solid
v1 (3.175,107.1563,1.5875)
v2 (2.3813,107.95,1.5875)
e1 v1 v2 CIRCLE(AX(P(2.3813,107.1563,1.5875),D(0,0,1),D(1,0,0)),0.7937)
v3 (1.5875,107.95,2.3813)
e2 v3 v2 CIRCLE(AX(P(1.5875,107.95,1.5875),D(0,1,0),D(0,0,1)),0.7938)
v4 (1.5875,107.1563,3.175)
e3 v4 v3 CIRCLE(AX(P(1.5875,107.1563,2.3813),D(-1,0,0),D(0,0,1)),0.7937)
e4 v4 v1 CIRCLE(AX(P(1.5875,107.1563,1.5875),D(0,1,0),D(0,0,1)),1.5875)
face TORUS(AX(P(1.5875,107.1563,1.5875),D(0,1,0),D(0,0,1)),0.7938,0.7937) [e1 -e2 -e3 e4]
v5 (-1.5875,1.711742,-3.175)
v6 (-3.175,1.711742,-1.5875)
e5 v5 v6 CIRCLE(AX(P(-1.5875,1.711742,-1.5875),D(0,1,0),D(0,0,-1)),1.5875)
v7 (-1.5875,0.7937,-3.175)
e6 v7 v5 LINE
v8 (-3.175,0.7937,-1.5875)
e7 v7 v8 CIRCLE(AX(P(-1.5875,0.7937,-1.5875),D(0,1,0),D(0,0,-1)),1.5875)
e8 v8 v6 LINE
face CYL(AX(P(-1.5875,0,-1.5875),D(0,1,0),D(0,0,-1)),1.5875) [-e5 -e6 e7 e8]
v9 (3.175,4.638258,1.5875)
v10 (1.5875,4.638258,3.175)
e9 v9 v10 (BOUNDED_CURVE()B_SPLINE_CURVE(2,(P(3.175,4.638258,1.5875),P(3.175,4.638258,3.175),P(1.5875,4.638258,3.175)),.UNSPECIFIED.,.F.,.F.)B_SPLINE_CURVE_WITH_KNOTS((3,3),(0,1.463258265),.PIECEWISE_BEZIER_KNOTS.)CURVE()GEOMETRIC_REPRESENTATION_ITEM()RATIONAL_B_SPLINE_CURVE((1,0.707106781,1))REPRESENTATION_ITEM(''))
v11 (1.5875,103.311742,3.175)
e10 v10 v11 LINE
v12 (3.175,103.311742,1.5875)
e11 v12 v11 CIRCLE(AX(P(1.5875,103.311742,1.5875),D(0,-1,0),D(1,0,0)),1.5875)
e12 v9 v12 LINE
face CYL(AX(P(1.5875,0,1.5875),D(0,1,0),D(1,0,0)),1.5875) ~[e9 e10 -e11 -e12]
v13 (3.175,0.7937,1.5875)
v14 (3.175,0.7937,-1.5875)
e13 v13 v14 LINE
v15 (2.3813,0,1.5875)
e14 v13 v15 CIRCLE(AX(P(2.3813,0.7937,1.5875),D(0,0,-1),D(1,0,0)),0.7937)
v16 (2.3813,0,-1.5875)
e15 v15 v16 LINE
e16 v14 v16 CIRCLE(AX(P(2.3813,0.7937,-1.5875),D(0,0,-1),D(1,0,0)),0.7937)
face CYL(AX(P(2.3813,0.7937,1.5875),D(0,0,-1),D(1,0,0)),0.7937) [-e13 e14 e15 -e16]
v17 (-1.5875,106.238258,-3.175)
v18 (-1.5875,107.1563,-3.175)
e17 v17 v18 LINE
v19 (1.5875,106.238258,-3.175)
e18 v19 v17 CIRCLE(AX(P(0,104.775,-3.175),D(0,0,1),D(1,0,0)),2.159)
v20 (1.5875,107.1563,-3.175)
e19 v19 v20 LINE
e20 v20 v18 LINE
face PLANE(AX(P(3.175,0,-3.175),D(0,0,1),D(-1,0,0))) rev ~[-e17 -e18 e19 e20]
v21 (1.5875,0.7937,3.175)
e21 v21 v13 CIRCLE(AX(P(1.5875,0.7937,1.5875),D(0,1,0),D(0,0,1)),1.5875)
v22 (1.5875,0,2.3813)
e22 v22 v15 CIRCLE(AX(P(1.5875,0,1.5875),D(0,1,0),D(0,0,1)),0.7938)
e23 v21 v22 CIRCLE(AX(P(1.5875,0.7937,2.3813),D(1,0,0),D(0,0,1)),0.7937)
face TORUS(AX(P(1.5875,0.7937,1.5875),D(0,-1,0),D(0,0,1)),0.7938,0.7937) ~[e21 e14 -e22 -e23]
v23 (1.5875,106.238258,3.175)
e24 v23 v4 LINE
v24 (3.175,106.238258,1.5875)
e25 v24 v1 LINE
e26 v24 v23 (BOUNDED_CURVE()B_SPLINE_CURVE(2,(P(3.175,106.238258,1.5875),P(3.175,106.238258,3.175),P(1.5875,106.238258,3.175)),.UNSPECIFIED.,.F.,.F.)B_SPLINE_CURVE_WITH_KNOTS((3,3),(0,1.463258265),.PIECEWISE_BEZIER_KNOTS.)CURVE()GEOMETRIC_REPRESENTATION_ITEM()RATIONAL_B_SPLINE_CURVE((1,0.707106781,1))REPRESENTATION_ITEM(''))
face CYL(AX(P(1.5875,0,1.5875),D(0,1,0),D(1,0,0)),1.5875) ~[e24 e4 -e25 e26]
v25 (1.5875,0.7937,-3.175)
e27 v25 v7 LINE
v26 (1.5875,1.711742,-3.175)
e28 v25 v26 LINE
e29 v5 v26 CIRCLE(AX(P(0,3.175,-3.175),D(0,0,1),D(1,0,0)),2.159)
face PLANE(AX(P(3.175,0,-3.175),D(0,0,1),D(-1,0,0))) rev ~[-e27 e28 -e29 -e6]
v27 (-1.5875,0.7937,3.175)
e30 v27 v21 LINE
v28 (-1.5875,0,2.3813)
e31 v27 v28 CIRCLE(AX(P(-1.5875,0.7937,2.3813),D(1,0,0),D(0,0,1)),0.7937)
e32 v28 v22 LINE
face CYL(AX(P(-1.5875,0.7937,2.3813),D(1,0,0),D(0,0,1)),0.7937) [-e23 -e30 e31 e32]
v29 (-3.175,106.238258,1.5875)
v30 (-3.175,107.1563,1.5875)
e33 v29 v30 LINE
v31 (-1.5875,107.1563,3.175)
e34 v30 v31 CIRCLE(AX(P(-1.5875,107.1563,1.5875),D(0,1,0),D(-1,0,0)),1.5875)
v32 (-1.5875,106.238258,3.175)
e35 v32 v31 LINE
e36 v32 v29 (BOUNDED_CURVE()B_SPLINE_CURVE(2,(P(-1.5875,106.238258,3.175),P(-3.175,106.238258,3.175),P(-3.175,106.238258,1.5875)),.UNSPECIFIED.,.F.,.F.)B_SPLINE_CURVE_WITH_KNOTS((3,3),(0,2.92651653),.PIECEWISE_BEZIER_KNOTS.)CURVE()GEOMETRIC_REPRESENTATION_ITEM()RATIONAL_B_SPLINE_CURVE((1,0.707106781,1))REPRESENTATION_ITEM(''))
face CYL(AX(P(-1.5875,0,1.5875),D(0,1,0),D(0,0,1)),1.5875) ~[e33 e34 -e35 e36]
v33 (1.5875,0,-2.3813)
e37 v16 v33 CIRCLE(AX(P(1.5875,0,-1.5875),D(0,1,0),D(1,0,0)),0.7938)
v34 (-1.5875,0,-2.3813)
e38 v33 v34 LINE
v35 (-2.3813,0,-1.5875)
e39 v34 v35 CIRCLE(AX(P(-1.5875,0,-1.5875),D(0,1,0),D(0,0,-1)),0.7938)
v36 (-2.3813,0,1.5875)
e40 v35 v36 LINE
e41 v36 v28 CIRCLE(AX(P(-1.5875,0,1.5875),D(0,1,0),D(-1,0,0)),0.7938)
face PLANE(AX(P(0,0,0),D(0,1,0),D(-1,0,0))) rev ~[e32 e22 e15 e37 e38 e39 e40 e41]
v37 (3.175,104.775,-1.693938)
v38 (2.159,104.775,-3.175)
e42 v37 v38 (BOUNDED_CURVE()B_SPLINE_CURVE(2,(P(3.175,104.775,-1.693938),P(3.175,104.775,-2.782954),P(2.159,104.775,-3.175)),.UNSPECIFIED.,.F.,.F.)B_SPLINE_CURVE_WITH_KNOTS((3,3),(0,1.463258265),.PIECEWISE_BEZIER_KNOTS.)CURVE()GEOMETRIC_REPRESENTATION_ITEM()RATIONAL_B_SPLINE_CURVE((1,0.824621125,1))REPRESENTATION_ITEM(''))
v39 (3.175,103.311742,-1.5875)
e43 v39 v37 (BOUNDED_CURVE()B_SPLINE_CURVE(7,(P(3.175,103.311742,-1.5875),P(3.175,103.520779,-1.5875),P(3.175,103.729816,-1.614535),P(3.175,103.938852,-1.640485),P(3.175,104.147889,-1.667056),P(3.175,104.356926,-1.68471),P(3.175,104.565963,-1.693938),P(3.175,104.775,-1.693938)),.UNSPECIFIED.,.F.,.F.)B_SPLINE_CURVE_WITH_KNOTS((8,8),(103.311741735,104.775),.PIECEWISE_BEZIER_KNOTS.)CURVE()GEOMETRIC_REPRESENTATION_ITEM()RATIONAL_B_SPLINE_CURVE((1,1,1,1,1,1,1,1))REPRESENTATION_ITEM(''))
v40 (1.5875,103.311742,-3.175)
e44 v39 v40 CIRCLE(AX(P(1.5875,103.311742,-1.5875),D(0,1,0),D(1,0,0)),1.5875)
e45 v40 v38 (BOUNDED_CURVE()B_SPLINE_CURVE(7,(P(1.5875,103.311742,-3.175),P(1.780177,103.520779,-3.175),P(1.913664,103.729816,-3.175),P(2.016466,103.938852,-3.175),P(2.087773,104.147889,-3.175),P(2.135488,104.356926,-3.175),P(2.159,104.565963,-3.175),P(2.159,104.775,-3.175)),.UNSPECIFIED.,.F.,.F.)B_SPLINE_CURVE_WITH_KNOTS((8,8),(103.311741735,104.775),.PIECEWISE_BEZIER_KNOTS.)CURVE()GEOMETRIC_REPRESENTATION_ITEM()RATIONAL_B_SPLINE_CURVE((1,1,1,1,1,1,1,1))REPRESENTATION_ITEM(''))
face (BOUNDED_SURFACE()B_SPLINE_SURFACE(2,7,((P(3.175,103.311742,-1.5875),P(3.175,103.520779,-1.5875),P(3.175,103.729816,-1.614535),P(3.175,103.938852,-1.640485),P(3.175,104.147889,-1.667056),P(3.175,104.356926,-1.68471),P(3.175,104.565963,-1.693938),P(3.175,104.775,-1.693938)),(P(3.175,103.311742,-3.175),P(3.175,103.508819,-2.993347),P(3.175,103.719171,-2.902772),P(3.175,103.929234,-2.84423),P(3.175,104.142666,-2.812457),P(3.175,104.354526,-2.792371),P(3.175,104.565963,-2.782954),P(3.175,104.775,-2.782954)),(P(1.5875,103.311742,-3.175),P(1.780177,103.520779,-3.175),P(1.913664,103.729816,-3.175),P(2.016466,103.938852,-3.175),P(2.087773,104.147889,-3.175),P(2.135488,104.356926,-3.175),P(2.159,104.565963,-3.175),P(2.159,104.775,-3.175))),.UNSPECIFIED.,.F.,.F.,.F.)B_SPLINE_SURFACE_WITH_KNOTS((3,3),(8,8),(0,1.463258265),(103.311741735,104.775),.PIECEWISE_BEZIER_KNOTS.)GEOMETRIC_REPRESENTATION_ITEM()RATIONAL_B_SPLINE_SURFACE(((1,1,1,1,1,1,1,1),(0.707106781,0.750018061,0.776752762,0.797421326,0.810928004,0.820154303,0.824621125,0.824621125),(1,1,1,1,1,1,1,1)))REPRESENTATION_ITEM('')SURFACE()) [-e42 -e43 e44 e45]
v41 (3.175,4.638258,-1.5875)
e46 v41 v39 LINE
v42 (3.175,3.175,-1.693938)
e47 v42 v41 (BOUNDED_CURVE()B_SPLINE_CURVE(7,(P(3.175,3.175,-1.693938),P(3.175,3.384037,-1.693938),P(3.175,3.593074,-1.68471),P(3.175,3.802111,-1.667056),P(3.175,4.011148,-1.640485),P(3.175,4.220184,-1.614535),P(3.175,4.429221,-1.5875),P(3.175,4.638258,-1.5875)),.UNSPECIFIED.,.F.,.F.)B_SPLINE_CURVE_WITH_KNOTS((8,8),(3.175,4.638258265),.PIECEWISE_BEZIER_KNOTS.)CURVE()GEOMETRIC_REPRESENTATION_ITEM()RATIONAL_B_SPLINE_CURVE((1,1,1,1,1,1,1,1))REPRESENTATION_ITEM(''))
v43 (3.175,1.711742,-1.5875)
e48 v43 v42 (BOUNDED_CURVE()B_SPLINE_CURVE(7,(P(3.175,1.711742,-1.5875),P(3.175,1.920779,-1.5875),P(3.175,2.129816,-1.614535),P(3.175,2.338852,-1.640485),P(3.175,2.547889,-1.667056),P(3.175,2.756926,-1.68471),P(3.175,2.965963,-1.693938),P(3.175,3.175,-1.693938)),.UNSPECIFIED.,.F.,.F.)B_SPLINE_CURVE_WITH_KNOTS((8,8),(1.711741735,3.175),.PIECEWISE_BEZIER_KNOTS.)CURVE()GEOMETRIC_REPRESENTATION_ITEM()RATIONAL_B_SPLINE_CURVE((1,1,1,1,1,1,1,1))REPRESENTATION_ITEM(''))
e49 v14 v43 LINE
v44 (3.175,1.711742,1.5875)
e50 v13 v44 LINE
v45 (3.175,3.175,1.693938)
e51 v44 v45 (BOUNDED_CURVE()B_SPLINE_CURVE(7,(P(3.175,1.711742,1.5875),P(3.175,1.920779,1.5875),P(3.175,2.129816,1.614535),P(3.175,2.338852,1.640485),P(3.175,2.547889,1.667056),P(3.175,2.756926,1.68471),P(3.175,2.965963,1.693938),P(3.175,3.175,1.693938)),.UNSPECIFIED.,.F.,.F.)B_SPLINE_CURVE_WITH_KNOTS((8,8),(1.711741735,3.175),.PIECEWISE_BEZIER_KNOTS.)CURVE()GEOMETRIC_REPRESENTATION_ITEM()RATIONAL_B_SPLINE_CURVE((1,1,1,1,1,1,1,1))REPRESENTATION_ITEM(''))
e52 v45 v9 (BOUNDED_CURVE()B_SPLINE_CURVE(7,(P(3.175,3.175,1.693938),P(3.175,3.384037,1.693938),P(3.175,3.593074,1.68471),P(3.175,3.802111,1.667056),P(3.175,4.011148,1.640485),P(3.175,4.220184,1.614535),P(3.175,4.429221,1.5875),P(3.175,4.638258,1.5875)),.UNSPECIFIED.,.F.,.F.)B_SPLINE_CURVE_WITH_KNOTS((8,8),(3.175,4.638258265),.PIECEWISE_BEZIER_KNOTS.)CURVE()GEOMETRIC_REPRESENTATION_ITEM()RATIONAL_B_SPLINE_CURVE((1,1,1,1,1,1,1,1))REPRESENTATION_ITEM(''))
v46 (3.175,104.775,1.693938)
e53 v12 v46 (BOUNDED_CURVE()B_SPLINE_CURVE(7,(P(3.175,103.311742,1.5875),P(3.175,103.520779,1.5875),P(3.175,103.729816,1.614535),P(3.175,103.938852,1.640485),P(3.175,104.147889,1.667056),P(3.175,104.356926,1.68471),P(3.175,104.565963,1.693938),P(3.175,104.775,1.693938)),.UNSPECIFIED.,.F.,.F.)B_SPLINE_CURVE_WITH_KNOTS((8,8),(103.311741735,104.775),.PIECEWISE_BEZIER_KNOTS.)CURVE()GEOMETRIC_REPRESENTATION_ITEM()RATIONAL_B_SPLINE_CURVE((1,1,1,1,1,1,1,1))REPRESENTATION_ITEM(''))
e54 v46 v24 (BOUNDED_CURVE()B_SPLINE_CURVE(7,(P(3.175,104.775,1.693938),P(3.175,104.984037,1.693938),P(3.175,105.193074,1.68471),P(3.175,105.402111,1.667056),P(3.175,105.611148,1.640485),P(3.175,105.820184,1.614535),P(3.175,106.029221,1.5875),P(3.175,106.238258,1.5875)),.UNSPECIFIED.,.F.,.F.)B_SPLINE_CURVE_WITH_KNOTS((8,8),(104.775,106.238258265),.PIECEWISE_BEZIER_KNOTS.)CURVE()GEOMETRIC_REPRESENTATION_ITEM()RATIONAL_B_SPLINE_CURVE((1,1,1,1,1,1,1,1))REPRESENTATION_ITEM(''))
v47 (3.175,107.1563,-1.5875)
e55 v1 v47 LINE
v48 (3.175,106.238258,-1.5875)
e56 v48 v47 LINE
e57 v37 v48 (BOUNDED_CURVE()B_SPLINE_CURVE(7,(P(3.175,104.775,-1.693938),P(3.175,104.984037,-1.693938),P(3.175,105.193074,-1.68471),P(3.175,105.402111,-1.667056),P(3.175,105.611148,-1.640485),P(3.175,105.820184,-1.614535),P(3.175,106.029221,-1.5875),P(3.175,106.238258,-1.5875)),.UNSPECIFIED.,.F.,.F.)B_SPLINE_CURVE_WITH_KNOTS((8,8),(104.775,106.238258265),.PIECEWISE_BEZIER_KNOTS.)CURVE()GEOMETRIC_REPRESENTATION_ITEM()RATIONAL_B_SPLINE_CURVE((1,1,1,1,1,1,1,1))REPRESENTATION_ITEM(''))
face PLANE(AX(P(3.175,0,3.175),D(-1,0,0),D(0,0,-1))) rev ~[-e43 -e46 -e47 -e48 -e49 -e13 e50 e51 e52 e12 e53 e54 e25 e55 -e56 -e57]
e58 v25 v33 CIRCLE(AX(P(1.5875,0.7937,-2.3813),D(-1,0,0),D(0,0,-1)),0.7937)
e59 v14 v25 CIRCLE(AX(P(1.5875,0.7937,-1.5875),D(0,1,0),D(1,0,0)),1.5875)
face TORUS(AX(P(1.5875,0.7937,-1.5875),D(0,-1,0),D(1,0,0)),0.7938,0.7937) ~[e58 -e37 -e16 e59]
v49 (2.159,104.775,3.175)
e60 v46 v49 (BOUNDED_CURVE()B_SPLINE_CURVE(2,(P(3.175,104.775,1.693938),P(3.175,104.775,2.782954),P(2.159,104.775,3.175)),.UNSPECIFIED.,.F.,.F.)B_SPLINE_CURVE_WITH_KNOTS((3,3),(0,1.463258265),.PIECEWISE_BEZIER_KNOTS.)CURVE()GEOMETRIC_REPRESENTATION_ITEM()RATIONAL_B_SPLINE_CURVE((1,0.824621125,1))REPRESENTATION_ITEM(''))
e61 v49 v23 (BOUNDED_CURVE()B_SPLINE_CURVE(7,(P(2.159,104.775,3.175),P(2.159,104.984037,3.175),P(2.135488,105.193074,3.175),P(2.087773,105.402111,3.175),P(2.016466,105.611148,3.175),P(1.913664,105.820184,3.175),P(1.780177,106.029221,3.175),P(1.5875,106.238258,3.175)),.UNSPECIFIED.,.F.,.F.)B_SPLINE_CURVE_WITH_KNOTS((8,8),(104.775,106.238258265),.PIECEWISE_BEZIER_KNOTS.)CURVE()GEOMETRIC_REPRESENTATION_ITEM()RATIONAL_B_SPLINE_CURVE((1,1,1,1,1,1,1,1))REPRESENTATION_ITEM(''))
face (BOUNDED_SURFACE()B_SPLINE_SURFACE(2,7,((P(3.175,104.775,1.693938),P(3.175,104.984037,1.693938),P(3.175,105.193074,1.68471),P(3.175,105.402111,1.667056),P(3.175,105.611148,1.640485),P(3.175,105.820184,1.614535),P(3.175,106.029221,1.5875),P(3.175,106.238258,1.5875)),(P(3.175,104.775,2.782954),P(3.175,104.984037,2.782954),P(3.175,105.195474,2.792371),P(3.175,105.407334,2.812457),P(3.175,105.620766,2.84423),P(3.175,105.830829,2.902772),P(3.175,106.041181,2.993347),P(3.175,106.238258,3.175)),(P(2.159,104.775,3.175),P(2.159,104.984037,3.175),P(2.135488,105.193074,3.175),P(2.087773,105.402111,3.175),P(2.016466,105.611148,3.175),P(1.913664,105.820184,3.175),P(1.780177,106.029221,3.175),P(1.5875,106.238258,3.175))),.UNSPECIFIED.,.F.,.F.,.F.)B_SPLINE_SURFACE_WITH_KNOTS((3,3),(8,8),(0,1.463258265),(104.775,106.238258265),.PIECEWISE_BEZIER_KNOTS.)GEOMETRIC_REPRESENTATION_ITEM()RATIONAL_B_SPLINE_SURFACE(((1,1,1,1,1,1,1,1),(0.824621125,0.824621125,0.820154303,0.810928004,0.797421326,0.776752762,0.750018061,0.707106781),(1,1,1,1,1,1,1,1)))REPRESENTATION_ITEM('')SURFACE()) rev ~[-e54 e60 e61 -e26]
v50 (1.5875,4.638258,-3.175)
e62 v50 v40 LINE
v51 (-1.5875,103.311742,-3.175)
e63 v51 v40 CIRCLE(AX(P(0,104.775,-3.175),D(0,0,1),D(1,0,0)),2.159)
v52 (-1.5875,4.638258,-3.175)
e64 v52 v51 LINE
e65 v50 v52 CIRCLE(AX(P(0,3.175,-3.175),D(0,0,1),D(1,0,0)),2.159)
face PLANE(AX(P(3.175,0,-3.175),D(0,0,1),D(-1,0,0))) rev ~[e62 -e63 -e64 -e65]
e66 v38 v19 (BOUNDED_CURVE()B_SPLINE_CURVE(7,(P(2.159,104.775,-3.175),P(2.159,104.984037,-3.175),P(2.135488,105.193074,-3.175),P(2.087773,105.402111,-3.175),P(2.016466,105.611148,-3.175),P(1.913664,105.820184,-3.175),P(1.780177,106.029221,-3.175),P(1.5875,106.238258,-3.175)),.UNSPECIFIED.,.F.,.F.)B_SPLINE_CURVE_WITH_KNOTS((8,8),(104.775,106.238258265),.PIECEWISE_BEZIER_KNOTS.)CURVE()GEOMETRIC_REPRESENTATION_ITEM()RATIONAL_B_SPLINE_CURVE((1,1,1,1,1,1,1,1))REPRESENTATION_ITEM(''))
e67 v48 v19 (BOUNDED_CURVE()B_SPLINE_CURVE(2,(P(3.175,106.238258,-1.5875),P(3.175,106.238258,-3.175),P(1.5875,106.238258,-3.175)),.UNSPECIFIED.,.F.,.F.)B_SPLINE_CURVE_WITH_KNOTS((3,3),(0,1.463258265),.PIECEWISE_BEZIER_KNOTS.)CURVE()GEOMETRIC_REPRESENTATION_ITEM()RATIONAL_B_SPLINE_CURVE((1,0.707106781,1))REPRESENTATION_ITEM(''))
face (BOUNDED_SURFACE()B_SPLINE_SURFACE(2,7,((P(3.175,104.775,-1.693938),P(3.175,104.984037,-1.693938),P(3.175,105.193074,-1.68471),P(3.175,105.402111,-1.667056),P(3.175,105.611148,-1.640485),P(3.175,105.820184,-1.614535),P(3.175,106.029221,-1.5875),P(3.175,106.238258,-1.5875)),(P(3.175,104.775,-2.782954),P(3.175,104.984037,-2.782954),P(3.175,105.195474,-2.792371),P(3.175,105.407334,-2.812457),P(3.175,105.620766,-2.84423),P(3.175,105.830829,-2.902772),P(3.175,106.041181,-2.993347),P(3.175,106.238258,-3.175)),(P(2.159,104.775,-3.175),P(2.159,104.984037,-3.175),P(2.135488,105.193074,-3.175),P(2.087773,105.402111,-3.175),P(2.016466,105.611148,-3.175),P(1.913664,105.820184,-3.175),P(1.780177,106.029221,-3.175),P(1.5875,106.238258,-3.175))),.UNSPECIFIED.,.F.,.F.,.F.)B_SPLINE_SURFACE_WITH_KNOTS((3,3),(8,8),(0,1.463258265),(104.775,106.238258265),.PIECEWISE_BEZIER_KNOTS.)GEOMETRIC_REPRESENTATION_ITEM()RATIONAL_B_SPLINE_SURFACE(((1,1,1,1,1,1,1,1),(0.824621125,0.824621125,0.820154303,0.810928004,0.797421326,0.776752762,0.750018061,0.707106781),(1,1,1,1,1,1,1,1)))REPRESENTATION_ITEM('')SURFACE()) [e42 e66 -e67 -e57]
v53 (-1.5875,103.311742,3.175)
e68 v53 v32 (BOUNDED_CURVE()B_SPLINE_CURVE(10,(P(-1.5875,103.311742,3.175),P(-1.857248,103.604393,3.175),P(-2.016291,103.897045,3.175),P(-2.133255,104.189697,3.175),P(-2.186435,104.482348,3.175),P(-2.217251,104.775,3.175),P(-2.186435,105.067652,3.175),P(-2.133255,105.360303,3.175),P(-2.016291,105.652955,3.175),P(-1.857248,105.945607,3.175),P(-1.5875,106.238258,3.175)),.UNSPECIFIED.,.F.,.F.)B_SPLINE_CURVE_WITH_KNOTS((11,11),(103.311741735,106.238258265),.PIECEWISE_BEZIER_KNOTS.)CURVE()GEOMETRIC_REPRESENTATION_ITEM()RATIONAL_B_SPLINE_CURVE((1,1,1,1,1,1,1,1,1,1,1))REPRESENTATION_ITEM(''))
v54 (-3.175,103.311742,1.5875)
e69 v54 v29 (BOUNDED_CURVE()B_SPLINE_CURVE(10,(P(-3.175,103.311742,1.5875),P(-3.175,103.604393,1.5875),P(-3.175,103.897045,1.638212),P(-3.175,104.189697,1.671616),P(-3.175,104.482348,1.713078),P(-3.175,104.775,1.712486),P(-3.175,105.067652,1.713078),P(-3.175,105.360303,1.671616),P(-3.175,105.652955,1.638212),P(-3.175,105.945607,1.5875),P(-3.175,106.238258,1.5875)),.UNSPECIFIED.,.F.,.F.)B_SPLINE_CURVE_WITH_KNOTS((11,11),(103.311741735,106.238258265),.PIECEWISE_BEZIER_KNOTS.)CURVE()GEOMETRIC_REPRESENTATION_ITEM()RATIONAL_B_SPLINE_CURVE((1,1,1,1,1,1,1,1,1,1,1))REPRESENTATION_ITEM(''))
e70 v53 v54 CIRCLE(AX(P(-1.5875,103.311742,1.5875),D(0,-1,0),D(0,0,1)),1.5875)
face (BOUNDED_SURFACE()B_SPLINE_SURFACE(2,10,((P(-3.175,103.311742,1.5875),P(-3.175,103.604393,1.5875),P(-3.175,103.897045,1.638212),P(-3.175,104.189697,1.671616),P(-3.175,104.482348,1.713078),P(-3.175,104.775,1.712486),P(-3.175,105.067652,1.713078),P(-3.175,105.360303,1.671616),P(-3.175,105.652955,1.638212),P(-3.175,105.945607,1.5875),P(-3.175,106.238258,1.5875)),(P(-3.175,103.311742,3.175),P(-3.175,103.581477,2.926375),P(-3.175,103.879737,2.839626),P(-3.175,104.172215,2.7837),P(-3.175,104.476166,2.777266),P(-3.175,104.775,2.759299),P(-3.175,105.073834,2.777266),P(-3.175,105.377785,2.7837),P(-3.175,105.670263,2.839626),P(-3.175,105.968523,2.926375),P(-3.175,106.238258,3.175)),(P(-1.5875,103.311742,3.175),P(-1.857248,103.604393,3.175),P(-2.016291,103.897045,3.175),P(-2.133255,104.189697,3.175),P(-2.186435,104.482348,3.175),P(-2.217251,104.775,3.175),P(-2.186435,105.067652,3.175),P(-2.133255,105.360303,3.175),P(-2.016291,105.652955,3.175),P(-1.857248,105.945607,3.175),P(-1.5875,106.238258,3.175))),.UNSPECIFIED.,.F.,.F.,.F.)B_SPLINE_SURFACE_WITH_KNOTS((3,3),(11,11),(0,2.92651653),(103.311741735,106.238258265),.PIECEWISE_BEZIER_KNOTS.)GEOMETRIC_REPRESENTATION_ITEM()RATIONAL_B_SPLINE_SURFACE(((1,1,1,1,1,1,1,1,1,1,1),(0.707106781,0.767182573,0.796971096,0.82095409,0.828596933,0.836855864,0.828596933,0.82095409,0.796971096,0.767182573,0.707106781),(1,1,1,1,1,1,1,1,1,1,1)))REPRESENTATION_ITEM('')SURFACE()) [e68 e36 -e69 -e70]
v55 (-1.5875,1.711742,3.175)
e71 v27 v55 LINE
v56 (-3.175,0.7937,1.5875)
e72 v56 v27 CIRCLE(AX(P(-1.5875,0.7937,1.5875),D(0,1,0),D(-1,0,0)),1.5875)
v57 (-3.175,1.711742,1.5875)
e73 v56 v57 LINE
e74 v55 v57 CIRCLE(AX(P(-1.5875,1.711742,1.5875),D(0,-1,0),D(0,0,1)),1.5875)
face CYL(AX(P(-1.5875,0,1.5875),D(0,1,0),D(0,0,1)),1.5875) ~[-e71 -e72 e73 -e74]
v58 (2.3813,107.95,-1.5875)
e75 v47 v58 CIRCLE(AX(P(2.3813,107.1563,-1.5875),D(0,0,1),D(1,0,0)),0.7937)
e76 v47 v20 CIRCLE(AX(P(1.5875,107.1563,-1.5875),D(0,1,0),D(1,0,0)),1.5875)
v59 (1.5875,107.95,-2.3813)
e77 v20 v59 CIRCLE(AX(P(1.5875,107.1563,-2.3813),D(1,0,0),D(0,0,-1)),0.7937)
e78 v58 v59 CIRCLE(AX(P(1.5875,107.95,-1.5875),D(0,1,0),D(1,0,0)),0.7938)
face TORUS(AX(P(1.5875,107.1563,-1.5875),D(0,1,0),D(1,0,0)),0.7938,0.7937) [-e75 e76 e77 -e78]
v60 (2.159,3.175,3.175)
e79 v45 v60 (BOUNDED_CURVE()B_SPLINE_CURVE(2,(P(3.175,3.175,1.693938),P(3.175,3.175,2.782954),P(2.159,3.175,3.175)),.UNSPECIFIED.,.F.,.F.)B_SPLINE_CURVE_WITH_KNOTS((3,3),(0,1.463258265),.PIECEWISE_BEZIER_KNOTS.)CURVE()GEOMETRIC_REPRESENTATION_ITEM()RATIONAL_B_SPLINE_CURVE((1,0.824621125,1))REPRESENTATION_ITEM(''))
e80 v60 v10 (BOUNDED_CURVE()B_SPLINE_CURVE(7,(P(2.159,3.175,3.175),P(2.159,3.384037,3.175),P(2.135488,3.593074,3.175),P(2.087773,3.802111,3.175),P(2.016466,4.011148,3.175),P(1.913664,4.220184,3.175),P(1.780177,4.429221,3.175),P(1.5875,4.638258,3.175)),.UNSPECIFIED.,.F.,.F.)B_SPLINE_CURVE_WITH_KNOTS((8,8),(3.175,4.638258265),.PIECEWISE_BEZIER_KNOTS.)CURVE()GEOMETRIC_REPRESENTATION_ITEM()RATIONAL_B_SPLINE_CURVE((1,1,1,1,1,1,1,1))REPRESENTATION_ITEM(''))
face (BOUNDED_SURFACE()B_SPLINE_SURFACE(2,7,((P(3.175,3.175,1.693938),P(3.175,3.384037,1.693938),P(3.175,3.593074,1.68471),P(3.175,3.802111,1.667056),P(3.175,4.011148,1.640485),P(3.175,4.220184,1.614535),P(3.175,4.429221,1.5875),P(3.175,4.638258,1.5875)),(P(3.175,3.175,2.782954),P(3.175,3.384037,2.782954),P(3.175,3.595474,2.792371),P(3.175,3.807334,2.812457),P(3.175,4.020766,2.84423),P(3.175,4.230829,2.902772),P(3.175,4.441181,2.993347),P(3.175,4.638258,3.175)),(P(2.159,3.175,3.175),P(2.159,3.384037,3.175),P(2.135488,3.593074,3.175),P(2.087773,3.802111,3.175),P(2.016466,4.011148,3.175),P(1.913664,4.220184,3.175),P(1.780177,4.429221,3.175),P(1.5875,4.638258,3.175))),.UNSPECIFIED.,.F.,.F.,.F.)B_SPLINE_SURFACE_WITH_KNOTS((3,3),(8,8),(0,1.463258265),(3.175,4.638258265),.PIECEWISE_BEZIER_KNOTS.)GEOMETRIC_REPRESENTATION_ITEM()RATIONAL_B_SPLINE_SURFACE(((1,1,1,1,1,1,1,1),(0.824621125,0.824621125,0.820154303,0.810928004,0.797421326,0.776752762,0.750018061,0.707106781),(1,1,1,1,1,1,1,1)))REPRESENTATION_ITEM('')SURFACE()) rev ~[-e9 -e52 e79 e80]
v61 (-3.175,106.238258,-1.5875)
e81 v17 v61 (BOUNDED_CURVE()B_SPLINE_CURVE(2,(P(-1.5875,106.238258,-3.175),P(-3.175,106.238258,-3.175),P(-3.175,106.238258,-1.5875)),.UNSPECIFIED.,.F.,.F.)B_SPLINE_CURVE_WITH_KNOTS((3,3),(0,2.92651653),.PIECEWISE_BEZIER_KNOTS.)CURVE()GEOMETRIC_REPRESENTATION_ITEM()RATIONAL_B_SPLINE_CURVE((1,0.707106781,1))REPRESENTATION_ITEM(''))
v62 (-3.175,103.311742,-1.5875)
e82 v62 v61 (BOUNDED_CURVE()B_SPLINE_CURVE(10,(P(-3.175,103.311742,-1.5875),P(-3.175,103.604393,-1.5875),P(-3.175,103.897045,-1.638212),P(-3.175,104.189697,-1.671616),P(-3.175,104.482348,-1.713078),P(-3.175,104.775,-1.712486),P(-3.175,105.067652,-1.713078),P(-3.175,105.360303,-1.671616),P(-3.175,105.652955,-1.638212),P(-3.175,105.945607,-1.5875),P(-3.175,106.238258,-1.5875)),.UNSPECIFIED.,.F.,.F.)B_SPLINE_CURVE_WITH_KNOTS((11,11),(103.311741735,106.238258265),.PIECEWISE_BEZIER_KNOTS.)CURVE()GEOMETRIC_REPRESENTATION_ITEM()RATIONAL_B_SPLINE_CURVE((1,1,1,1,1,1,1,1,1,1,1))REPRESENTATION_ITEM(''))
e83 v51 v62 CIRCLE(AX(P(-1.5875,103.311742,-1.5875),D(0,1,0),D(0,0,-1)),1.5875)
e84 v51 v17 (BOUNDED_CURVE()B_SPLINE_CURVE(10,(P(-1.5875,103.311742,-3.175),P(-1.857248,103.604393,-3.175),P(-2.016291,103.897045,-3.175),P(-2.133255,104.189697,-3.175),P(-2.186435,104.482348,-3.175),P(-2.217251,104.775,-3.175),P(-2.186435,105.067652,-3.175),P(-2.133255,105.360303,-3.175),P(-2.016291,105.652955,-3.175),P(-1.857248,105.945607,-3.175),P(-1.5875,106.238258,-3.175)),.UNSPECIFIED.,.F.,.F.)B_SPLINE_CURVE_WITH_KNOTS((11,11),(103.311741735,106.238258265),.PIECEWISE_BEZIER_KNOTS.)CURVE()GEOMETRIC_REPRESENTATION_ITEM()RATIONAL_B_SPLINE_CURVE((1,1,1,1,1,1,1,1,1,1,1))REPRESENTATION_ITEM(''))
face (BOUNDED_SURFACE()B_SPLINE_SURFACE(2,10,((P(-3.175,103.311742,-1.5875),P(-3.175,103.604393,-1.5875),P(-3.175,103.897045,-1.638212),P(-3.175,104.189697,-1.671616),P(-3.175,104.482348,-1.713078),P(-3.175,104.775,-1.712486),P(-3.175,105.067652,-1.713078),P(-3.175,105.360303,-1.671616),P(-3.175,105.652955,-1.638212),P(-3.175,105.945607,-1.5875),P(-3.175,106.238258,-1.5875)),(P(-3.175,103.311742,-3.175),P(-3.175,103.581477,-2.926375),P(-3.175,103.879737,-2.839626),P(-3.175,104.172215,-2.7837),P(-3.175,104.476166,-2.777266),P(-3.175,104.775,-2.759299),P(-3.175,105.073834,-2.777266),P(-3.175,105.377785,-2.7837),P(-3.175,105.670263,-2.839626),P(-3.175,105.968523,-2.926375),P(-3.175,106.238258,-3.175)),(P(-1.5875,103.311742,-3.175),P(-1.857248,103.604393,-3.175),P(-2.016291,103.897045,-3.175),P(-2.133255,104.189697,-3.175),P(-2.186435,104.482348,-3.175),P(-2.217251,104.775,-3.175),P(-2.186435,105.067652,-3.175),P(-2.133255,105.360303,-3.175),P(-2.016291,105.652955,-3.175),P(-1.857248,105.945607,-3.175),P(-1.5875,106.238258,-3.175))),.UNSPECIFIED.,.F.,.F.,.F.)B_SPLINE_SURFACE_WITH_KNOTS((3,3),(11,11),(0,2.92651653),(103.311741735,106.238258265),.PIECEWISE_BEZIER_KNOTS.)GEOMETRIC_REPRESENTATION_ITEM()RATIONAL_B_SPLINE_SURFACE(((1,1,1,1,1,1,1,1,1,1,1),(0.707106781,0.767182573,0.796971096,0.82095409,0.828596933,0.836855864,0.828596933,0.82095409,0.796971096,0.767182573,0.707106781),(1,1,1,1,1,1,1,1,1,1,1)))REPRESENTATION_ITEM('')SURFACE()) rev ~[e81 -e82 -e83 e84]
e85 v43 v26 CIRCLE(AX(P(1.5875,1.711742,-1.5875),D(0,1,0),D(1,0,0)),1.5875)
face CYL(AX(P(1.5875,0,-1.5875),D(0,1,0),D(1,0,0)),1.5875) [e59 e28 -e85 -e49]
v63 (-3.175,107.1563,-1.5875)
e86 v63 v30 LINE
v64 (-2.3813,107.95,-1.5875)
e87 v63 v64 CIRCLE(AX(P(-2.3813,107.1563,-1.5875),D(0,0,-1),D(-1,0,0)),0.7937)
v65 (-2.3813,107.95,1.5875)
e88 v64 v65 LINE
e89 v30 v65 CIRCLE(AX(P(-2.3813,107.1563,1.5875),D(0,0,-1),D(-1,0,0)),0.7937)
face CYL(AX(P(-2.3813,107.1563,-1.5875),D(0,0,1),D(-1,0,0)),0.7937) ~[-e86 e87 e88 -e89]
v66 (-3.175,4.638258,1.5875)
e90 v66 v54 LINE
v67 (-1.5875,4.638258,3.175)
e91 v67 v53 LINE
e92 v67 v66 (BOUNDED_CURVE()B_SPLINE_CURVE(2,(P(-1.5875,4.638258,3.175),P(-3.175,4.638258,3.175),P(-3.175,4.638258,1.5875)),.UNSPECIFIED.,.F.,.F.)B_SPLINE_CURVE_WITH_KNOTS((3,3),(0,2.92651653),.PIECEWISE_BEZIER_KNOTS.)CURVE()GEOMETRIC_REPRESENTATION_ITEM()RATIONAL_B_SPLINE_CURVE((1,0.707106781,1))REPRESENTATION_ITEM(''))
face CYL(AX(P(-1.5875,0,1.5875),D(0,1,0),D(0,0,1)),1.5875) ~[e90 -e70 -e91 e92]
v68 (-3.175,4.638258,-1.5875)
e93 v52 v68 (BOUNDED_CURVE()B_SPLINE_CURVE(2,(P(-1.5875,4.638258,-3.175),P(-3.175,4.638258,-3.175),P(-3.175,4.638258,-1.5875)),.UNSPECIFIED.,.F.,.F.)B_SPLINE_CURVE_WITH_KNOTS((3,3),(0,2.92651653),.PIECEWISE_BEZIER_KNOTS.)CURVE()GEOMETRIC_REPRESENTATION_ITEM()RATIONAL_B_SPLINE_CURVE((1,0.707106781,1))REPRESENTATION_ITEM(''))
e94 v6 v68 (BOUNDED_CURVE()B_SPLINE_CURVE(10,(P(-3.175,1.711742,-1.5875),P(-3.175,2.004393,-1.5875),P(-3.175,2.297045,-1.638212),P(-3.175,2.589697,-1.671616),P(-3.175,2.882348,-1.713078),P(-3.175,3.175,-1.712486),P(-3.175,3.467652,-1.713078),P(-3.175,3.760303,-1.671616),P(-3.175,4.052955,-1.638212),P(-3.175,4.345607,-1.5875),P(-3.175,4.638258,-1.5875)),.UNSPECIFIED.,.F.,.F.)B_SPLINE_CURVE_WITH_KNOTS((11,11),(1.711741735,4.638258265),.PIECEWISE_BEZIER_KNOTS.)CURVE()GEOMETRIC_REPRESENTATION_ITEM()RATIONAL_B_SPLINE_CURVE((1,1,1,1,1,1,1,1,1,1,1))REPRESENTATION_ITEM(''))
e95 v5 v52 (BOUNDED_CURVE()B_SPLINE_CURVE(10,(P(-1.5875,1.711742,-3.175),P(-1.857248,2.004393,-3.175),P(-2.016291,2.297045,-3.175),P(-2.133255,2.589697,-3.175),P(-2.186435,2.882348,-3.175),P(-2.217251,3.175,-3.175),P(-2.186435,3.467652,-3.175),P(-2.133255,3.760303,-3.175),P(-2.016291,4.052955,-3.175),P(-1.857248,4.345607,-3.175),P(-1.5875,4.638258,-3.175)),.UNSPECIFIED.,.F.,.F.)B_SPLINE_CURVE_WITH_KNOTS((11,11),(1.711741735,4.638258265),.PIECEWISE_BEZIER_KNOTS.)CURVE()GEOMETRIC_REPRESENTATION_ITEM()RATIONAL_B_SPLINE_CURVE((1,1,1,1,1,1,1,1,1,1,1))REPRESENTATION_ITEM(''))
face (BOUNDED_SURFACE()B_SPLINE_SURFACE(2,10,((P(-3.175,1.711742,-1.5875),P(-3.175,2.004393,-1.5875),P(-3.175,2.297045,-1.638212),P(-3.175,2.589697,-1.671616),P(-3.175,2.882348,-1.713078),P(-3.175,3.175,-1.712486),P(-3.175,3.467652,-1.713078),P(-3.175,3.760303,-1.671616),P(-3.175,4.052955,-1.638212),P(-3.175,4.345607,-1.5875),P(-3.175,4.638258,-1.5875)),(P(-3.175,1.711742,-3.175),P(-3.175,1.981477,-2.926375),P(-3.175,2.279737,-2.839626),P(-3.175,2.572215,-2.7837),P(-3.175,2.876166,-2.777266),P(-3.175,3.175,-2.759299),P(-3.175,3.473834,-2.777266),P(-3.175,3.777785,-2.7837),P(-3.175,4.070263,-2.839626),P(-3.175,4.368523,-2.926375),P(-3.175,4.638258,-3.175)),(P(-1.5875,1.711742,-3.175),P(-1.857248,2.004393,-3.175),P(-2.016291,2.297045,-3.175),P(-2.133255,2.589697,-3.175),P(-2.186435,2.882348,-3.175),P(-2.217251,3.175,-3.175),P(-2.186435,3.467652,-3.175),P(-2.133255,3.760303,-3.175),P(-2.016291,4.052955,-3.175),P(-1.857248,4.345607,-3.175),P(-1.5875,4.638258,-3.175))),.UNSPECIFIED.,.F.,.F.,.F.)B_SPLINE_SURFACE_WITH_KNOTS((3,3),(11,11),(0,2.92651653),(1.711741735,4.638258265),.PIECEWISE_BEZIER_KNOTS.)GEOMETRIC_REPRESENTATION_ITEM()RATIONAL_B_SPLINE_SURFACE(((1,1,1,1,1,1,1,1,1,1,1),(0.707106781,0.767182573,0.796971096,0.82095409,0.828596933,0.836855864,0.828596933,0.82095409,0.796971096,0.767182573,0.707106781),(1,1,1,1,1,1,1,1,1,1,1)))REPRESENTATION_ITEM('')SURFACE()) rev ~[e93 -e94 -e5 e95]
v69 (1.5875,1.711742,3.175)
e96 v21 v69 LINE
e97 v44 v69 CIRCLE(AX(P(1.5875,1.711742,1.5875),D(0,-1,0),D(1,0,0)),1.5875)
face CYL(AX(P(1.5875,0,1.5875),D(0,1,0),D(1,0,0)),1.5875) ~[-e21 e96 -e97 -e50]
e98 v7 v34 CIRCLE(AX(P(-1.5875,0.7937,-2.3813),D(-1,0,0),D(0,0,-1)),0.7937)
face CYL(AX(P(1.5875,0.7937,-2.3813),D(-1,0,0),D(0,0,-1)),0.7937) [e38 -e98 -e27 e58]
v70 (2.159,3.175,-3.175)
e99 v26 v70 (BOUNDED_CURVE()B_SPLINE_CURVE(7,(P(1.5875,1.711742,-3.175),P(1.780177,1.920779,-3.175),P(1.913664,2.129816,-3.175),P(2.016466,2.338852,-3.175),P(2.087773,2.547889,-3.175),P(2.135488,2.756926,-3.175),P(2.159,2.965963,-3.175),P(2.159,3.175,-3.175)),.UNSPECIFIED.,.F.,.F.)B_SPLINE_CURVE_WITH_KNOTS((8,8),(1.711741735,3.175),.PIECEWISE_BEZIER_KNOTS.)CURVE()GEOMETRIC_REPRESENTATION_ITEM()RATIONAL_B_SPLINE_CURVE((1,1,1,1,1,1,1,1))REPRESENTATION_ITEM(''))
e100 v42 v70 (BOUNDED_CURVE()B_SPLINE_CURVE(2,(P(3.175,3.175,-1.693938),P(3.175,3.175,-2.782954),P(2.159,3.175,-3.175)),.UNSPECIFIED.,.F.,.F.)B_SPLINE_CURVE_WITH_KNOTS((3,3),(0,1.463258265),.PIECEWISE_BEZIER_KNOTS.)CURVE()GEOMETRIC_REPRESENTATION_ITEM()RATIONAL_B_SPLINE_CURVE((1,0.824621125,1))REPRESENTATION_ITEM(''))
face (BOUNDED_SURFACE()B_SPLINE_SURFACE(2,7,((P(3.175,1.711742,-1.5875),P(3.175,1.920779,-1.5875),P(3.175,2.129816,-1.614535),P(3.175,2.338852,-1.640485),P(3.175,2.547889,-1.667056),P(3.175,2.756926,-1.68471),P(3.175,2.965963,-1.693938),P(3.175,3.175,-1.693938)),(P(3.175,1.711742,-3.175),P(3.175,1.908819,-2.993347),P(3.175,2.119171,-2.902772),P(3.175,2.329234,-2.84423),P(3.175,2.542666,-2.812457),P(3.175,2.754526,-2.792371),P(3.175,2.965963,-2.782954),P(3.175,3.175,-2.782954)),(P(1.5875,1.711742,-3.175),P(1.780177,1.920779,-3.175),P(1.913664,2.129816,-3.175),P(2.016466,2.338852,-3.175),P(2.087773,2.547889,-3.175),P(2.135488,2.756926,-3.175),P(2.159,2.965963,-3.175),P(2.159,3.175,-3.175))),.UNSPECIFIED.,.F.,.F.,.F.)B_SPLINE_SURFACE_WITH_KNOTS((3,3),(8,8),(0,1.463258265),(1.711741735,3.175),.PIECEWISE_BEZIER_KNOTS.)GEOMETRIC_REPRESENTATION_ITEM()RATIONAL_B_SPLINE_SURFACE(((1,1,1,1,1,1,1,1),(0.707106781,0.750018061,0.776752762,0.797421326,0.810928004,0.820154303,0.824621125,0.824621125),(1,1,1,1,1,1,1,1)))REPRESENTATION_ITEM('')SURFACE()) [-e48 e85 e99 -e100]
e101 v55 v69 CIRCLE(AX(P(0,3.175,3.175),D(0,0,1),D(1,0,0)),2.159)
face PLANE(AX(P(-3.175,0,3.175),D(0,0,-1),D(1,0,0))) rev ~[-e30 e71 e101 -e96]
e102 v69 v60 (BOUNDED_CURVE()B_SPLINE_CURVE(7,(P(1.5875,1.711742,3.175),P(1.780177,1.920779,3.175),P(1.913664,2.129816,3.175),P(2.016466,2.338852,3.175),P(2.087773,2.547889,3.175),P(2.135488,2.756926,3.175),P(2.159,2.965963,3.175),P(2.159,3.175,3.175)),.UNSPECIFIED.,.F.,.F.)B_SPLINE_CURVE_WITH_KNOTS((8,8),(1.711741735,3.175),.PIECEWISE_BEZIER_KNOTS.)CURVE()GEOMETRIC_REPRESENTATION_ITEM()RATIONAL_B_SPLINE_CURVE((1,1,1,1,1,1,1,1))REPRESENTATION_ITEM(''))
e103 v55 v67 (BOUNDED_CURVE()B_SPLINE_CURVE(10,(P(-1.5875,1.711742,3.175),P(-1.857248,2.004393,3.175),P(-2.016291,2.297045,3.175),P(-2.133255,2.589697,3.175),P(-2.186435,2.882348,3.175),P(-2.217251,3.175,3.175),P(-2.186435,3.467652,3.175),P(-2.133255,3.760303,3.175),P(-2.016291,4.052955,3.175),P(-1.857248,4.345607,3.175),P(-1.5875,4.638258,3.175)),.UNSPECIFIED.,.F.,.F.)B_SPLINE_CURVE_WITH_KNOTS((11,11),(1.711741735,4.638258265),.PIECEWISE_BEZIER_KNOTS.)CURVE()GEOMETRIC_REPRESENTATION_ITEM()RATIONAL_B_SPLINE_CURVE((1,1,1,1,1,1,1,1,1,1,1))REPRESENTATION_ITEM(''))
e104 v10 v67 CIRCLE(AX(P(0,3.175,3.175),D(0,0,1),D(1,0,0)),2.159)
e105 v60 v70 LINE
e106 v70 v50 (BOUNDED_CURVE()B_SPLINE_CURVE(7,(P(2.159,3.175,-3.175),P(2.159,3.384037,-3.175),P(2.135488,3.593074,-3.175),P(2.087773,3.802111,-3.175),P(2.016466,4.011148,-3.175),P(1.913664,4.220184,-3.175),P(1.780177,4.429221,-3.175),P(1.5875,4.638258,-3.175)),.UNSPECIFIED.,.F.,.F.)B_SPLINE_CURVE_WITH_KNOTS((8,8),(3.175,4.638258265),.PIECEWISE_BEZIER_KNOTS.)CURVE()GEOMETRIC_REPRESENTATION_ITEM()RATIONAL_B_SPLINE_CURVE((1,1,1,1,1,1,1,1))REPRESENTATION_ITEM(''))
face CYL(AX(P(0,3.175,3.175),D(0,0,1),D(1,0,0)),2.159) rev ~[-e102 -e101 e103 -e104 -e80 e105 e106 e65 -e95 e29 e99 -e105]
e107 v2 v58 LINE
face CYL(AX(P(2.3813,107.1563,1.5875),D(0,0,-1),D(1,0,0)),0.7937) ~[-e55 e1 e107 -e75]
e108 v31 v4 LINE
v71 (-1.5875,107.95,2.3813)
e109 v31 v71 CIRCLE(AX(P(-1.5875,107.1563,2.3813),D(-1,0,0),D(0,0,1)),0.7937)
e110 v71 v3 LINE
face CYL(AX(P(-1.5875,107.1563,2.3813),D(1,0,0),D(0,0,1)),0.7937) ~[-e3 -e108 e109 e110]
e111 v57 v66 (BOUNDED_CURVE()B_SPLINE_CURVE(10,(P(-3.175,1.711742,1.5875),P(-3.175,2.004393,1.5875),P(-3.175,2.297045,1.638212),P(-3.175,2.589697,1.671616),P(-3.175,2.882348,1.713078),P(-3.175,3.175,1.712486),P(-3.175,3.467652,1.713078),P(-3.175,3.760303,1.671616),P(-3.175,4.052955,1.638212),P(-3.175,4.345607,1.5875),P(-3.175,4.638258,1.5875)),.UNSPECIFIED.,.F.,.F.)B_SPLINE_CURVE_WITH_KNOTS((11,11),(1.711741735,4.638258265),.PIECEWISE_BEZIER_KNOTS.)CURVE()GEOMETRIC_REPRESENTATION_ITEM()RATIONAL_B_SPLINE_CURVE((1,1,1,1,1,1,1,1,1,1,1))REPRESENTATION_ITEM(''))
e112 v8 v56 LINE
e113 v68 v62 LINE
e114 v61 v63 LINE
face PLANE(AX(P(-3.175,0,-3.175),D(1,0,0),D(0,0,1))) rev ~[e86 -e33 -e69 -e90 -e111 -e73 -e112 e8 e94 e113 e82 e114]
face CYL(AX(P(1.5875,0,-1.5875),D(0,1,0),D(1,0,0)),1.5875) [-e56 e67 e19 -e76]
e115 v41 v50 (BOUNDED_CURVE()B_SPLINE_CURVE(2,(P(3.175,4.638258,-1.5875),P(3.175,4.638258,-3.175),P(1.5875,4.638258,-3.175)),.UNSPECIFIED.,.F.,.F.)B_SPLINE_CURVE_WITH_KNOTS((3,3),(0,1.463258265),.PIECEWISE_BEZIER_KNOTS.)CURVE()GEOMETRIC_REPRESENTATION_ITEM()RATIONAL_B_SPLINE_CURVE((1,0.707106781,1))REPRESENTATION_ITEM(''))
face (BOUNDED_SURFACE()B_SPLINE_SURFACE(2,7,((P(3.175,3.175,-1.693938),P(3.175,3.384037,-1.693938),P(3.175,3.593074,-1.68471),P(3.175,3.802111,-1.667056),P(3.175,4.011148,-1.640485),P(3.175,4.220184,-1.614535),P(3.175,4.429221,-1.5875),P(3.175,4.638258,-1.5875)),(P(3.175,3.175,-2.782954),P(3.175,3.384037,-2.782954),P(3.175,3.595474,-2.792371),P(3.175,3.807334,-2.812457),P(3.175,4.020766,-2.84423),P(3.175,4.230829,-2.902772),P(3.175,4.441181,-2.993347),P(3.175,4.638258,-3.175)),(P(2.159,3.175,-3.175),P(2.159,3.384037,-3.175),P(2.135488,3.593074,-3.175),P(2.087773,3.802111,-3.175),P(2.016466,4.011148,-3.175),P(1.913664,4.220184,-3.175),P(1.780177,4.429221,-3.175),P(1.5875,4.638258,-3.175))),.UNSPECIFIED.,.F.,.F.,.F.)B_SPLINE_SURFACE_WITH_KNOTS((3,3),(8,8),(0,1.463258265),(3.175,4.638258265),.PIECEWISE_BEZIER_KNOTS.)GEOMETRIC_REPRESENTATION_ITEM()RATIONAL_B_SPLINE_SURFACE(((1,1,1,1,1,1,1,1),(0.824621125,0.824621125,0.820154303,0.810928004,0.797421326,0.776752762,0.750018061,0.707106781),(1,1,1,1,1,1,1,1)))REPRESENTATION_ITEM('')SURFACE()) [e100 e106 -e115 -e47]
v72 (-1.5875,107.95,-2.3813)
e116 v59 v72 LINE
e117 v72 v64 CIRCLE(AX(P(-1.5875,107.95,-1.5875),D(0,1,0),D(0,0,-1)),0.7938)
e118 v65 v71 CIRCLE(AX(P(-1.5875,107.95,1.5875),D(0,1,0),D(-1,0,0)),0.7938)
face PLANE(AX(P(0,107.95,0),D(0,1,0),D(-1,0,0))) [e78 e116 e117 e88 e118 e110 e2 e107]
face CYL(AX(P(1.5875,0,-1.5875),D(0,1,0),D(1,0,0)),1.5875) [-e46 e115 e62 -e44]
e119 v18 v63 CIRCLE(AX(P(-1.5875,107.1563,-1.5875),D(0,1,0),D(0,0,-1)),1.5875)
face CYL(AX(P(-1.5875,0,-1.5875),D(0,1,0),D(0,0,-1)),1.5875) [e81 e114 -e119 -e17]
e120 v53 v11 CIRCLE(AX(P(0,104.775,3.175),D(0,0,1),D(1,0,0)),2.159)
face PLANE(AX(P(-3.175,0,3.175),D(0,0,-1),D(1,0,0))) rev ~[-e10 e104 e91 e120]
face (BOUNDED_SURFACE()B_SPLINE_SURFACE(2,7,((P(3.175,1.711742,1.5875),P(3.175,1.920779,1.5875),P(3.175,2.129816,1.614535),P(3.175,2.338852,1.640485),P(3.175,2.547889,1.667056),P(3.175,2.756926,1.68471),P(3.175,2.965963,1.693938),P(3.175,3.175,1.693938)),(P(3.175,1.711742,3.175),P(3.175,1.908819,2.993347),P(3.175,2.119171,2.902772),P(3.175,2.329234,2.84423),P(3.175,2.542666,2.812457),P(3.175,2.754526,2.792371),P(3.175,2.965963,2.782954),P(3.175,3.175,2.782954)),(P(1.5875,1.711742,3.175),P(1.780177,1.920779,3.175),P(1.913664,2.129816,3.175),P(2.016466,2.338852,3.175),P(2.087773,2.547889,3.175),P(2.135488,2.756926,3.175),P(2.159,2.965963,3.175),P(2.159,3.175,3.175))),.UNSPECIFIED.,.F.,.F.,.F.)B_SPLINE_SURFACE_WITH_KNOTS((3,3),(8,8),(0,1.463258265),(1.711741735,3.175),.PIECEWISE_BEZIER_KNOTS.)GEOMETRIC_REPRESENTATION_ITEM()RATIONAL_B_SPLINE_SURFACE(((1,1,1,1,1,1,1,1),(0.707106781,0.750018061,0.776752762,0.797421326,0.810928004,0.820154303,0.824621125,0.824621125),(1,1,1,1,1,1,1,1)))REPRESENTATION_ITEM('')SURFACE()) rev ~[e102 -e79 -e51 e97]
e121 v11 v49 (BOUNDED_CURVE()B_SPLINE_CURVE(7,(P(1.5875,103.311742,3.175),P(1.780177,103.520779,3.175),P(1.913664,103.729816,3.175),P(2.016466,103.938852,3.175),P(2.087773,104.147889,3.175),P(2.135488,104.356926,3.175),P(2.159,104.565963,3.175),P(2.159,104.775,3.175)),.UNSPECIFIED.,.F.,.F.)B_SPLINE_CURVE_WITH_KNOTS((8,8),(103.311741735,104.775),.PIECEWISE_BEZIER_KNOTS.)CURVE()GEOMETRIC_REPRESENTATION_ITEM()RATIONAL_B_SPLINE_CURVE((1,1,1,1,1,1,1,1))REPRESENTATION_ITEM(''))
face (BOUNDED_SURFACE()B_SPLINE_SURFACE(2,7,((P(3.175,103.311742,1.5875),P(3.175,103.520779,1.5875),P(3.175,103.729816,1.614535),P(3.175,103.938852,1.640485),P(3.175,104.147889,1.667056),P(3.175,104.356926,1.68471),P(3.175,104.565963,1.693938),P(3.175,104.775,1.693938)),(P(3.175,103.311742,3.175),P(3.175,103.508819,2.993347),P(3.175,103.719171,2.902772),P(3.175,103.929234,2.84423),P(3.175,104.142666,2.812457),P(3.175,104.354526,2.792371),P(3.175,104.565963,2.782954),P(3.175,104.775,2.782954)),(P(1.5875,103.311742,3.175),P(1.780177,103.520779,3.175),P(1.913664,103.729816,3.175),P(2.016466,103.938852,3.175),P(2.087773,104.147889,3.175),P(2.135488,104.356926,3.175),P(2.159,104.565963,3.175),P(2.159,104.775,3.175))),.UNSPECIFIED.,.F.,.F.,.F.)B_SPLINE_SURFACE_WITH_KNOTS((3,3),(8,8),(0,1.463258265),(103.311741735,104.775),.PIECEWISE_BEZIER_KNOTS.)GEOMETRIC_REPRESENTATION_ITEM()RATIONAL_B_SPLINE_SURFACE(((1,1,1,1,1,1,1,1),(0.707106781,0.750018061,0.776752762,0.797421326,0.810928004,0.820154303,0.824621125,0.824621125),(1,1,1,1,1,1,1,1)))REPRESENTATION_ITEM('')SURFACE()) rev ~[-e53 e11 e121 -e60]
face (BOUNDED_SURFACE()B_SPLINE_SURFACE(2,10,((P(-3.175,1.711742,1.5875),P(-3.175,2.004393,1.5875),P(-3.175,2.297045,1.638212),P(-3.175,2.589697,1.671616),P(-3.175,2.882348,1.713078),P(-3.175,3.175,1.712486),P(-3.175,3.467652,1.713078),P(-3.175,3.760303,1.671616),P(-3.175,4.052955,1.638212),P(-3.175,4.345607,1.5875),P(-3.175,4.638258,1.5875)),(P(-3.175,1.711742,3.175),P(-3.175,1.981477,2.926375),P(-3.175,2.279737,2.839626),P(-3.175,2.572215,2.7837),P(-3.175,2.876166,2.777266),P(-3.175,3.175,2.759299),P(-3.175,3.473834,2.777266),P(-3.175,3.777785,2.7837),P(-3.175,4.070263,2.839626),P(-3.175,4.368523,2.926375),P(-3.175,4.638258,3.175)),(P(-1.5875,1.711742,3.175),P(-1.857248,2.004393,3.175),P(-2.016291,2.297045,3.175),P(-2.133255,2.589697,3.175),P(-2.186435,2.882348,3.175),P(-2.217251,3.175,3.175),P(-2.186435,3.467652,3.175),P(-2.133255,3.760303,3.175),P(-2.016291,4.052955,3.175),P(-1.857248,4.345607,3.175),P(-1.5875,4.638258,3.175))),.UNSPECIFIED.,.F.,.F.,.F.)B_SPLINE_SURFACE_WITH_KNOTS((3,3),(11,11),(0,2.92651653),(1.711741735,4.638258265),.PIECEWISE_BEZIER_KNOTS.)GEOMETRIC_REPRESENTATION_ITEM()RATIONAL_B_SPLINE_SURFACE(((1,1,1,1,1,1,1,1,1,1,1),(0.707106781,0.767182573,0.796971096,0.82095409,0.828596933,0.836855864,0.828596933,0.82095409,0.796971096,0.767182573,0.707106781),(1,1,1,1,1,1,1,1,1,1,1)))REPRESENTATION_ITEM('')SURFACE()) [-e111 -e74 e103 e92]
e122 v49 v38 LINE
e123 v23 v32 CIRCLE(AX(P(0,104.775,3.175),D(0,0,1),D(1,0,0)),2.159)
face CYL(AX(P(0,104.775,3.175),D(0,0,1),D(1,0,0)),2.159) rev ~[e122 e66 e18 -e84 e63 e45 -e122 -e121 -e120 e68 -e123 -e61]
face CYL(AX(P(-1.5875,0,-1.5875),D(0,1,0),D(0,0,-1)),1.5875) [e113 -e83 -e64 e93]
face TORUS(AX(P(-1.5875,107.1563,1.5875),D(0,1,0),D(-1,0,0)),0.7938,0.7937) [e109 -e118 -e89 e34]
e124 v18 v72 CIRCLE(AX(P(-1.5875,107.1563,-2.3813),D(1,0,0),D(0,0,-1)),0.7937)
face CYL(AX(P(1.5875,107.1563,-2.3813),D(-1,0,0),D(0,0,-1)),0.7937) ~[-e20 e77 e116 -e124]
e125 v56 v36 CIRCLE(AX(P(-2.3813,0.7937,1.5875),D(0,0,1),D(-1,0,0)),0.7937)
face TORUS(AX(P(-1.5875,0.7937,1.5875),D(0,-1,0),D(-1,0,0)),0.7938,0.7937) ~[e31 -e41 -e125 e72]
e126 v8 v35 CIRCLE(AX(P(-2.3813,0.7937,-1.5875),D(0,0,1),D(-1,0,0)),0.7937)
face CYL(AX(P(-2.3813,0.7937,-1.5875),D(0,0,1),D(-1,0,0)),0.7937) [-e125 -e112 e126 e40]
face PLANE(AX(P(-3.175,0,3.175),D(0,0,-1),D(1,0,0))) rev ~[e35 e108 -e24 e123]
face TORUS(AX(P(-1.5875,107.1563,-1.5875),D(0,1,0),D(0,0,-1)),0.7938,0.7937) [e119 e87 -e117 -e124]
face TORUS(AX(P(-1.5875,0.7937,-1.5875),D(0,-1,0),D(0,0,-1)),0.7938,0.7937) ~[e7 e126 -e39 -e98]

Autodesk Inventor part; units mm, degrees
ref_plane "YZ Plane" through (0, 0, 0) normal (1, 0, 0) x (0, 1, 0)
ref_plane "XZ Plane" through (0, 0, 0) normal (0, 1, 0) x (-1, 0, 0)
ref_plane "XY Plane" through (0, 0, 0) normal (0, 0, 1) x (1, 0, 0)
sketch "Sketch1" plane through (0, 0, 0) normal (0, 1, 0) x (-1, 0, 0)
  line L0 (-3.175, -3.175) -> (3.175, -3.175)
  line L1 (3.175, -3.175) -> (3.175, 3.175)
  line L2 (3.175, 3.175) -> (-3.175, 3.175)
  line L3 (-3.175, 3.175) -> (-3.175, -3.175)
  line L4 (-3.175, -3.175) -> (3.175, 3.175) construction
  line L5 (3.175, -3.175) -> (-3.175, 3.175) construction
  point P0 (0, 0)
  dimension "d0" = 6.35
  dimension "d1" = 6.35
extrude "Extrusion1" add sketch "Sketch1" along normal blind 107.95
sketch "Sketch2" plane through (-3.175, 0, 3.175) normal (0, 0, 1) x (1, 0, 0)
  circle A0 centre (3.175, 3.175) radius 2.159
  line L0 (0, 0) -> (6.35, 0) projected
  circle A1 centre (3.175, 104.775) radius 2.159
  line L1 (0, 107.95) -> (6.35, 107.95) projected
  point P0 (3.175, 0)
  dimension "d4" = 4.318
  dimension "d5" = 3.175
  dimension "d6" = 4.318
  dimension "d7" = 3.175
extrude "Extrusion2" cut sketch "Sketch2" against normal blind 101.6
fillet "Fillet1" radius 1.5875 4 edges at (3.175, 53.975, -3.175) (3.175, 53.975, 3.175) (-3.175, 53.975, -3.175) (-3.175, 53.975, 3.175)
fillet "Fillet2" radius 0.7937 16 edges at (2.71, 107.95, -2.71) (0, 107.95, -3.175) (-2.71, 107.95, -2.71) (-3.175, 107.95, 0) (-2.71, 107.95, 2.71) (0, 107.95, 3.175) (2.71, 107.95, 2.71) (3.175, 107.95, 0) (3.175, 0, 0) (2.71, 0, -2.71) (0, 0, -3.175) (-2.71, 0, -2.71) (-3.175, 0, 0) (-2.71, 0, 2.71) (0, 0, 3.175) (2.71, 0, 2.71)
properties part number "30 stop" material "Stainless Steel"
